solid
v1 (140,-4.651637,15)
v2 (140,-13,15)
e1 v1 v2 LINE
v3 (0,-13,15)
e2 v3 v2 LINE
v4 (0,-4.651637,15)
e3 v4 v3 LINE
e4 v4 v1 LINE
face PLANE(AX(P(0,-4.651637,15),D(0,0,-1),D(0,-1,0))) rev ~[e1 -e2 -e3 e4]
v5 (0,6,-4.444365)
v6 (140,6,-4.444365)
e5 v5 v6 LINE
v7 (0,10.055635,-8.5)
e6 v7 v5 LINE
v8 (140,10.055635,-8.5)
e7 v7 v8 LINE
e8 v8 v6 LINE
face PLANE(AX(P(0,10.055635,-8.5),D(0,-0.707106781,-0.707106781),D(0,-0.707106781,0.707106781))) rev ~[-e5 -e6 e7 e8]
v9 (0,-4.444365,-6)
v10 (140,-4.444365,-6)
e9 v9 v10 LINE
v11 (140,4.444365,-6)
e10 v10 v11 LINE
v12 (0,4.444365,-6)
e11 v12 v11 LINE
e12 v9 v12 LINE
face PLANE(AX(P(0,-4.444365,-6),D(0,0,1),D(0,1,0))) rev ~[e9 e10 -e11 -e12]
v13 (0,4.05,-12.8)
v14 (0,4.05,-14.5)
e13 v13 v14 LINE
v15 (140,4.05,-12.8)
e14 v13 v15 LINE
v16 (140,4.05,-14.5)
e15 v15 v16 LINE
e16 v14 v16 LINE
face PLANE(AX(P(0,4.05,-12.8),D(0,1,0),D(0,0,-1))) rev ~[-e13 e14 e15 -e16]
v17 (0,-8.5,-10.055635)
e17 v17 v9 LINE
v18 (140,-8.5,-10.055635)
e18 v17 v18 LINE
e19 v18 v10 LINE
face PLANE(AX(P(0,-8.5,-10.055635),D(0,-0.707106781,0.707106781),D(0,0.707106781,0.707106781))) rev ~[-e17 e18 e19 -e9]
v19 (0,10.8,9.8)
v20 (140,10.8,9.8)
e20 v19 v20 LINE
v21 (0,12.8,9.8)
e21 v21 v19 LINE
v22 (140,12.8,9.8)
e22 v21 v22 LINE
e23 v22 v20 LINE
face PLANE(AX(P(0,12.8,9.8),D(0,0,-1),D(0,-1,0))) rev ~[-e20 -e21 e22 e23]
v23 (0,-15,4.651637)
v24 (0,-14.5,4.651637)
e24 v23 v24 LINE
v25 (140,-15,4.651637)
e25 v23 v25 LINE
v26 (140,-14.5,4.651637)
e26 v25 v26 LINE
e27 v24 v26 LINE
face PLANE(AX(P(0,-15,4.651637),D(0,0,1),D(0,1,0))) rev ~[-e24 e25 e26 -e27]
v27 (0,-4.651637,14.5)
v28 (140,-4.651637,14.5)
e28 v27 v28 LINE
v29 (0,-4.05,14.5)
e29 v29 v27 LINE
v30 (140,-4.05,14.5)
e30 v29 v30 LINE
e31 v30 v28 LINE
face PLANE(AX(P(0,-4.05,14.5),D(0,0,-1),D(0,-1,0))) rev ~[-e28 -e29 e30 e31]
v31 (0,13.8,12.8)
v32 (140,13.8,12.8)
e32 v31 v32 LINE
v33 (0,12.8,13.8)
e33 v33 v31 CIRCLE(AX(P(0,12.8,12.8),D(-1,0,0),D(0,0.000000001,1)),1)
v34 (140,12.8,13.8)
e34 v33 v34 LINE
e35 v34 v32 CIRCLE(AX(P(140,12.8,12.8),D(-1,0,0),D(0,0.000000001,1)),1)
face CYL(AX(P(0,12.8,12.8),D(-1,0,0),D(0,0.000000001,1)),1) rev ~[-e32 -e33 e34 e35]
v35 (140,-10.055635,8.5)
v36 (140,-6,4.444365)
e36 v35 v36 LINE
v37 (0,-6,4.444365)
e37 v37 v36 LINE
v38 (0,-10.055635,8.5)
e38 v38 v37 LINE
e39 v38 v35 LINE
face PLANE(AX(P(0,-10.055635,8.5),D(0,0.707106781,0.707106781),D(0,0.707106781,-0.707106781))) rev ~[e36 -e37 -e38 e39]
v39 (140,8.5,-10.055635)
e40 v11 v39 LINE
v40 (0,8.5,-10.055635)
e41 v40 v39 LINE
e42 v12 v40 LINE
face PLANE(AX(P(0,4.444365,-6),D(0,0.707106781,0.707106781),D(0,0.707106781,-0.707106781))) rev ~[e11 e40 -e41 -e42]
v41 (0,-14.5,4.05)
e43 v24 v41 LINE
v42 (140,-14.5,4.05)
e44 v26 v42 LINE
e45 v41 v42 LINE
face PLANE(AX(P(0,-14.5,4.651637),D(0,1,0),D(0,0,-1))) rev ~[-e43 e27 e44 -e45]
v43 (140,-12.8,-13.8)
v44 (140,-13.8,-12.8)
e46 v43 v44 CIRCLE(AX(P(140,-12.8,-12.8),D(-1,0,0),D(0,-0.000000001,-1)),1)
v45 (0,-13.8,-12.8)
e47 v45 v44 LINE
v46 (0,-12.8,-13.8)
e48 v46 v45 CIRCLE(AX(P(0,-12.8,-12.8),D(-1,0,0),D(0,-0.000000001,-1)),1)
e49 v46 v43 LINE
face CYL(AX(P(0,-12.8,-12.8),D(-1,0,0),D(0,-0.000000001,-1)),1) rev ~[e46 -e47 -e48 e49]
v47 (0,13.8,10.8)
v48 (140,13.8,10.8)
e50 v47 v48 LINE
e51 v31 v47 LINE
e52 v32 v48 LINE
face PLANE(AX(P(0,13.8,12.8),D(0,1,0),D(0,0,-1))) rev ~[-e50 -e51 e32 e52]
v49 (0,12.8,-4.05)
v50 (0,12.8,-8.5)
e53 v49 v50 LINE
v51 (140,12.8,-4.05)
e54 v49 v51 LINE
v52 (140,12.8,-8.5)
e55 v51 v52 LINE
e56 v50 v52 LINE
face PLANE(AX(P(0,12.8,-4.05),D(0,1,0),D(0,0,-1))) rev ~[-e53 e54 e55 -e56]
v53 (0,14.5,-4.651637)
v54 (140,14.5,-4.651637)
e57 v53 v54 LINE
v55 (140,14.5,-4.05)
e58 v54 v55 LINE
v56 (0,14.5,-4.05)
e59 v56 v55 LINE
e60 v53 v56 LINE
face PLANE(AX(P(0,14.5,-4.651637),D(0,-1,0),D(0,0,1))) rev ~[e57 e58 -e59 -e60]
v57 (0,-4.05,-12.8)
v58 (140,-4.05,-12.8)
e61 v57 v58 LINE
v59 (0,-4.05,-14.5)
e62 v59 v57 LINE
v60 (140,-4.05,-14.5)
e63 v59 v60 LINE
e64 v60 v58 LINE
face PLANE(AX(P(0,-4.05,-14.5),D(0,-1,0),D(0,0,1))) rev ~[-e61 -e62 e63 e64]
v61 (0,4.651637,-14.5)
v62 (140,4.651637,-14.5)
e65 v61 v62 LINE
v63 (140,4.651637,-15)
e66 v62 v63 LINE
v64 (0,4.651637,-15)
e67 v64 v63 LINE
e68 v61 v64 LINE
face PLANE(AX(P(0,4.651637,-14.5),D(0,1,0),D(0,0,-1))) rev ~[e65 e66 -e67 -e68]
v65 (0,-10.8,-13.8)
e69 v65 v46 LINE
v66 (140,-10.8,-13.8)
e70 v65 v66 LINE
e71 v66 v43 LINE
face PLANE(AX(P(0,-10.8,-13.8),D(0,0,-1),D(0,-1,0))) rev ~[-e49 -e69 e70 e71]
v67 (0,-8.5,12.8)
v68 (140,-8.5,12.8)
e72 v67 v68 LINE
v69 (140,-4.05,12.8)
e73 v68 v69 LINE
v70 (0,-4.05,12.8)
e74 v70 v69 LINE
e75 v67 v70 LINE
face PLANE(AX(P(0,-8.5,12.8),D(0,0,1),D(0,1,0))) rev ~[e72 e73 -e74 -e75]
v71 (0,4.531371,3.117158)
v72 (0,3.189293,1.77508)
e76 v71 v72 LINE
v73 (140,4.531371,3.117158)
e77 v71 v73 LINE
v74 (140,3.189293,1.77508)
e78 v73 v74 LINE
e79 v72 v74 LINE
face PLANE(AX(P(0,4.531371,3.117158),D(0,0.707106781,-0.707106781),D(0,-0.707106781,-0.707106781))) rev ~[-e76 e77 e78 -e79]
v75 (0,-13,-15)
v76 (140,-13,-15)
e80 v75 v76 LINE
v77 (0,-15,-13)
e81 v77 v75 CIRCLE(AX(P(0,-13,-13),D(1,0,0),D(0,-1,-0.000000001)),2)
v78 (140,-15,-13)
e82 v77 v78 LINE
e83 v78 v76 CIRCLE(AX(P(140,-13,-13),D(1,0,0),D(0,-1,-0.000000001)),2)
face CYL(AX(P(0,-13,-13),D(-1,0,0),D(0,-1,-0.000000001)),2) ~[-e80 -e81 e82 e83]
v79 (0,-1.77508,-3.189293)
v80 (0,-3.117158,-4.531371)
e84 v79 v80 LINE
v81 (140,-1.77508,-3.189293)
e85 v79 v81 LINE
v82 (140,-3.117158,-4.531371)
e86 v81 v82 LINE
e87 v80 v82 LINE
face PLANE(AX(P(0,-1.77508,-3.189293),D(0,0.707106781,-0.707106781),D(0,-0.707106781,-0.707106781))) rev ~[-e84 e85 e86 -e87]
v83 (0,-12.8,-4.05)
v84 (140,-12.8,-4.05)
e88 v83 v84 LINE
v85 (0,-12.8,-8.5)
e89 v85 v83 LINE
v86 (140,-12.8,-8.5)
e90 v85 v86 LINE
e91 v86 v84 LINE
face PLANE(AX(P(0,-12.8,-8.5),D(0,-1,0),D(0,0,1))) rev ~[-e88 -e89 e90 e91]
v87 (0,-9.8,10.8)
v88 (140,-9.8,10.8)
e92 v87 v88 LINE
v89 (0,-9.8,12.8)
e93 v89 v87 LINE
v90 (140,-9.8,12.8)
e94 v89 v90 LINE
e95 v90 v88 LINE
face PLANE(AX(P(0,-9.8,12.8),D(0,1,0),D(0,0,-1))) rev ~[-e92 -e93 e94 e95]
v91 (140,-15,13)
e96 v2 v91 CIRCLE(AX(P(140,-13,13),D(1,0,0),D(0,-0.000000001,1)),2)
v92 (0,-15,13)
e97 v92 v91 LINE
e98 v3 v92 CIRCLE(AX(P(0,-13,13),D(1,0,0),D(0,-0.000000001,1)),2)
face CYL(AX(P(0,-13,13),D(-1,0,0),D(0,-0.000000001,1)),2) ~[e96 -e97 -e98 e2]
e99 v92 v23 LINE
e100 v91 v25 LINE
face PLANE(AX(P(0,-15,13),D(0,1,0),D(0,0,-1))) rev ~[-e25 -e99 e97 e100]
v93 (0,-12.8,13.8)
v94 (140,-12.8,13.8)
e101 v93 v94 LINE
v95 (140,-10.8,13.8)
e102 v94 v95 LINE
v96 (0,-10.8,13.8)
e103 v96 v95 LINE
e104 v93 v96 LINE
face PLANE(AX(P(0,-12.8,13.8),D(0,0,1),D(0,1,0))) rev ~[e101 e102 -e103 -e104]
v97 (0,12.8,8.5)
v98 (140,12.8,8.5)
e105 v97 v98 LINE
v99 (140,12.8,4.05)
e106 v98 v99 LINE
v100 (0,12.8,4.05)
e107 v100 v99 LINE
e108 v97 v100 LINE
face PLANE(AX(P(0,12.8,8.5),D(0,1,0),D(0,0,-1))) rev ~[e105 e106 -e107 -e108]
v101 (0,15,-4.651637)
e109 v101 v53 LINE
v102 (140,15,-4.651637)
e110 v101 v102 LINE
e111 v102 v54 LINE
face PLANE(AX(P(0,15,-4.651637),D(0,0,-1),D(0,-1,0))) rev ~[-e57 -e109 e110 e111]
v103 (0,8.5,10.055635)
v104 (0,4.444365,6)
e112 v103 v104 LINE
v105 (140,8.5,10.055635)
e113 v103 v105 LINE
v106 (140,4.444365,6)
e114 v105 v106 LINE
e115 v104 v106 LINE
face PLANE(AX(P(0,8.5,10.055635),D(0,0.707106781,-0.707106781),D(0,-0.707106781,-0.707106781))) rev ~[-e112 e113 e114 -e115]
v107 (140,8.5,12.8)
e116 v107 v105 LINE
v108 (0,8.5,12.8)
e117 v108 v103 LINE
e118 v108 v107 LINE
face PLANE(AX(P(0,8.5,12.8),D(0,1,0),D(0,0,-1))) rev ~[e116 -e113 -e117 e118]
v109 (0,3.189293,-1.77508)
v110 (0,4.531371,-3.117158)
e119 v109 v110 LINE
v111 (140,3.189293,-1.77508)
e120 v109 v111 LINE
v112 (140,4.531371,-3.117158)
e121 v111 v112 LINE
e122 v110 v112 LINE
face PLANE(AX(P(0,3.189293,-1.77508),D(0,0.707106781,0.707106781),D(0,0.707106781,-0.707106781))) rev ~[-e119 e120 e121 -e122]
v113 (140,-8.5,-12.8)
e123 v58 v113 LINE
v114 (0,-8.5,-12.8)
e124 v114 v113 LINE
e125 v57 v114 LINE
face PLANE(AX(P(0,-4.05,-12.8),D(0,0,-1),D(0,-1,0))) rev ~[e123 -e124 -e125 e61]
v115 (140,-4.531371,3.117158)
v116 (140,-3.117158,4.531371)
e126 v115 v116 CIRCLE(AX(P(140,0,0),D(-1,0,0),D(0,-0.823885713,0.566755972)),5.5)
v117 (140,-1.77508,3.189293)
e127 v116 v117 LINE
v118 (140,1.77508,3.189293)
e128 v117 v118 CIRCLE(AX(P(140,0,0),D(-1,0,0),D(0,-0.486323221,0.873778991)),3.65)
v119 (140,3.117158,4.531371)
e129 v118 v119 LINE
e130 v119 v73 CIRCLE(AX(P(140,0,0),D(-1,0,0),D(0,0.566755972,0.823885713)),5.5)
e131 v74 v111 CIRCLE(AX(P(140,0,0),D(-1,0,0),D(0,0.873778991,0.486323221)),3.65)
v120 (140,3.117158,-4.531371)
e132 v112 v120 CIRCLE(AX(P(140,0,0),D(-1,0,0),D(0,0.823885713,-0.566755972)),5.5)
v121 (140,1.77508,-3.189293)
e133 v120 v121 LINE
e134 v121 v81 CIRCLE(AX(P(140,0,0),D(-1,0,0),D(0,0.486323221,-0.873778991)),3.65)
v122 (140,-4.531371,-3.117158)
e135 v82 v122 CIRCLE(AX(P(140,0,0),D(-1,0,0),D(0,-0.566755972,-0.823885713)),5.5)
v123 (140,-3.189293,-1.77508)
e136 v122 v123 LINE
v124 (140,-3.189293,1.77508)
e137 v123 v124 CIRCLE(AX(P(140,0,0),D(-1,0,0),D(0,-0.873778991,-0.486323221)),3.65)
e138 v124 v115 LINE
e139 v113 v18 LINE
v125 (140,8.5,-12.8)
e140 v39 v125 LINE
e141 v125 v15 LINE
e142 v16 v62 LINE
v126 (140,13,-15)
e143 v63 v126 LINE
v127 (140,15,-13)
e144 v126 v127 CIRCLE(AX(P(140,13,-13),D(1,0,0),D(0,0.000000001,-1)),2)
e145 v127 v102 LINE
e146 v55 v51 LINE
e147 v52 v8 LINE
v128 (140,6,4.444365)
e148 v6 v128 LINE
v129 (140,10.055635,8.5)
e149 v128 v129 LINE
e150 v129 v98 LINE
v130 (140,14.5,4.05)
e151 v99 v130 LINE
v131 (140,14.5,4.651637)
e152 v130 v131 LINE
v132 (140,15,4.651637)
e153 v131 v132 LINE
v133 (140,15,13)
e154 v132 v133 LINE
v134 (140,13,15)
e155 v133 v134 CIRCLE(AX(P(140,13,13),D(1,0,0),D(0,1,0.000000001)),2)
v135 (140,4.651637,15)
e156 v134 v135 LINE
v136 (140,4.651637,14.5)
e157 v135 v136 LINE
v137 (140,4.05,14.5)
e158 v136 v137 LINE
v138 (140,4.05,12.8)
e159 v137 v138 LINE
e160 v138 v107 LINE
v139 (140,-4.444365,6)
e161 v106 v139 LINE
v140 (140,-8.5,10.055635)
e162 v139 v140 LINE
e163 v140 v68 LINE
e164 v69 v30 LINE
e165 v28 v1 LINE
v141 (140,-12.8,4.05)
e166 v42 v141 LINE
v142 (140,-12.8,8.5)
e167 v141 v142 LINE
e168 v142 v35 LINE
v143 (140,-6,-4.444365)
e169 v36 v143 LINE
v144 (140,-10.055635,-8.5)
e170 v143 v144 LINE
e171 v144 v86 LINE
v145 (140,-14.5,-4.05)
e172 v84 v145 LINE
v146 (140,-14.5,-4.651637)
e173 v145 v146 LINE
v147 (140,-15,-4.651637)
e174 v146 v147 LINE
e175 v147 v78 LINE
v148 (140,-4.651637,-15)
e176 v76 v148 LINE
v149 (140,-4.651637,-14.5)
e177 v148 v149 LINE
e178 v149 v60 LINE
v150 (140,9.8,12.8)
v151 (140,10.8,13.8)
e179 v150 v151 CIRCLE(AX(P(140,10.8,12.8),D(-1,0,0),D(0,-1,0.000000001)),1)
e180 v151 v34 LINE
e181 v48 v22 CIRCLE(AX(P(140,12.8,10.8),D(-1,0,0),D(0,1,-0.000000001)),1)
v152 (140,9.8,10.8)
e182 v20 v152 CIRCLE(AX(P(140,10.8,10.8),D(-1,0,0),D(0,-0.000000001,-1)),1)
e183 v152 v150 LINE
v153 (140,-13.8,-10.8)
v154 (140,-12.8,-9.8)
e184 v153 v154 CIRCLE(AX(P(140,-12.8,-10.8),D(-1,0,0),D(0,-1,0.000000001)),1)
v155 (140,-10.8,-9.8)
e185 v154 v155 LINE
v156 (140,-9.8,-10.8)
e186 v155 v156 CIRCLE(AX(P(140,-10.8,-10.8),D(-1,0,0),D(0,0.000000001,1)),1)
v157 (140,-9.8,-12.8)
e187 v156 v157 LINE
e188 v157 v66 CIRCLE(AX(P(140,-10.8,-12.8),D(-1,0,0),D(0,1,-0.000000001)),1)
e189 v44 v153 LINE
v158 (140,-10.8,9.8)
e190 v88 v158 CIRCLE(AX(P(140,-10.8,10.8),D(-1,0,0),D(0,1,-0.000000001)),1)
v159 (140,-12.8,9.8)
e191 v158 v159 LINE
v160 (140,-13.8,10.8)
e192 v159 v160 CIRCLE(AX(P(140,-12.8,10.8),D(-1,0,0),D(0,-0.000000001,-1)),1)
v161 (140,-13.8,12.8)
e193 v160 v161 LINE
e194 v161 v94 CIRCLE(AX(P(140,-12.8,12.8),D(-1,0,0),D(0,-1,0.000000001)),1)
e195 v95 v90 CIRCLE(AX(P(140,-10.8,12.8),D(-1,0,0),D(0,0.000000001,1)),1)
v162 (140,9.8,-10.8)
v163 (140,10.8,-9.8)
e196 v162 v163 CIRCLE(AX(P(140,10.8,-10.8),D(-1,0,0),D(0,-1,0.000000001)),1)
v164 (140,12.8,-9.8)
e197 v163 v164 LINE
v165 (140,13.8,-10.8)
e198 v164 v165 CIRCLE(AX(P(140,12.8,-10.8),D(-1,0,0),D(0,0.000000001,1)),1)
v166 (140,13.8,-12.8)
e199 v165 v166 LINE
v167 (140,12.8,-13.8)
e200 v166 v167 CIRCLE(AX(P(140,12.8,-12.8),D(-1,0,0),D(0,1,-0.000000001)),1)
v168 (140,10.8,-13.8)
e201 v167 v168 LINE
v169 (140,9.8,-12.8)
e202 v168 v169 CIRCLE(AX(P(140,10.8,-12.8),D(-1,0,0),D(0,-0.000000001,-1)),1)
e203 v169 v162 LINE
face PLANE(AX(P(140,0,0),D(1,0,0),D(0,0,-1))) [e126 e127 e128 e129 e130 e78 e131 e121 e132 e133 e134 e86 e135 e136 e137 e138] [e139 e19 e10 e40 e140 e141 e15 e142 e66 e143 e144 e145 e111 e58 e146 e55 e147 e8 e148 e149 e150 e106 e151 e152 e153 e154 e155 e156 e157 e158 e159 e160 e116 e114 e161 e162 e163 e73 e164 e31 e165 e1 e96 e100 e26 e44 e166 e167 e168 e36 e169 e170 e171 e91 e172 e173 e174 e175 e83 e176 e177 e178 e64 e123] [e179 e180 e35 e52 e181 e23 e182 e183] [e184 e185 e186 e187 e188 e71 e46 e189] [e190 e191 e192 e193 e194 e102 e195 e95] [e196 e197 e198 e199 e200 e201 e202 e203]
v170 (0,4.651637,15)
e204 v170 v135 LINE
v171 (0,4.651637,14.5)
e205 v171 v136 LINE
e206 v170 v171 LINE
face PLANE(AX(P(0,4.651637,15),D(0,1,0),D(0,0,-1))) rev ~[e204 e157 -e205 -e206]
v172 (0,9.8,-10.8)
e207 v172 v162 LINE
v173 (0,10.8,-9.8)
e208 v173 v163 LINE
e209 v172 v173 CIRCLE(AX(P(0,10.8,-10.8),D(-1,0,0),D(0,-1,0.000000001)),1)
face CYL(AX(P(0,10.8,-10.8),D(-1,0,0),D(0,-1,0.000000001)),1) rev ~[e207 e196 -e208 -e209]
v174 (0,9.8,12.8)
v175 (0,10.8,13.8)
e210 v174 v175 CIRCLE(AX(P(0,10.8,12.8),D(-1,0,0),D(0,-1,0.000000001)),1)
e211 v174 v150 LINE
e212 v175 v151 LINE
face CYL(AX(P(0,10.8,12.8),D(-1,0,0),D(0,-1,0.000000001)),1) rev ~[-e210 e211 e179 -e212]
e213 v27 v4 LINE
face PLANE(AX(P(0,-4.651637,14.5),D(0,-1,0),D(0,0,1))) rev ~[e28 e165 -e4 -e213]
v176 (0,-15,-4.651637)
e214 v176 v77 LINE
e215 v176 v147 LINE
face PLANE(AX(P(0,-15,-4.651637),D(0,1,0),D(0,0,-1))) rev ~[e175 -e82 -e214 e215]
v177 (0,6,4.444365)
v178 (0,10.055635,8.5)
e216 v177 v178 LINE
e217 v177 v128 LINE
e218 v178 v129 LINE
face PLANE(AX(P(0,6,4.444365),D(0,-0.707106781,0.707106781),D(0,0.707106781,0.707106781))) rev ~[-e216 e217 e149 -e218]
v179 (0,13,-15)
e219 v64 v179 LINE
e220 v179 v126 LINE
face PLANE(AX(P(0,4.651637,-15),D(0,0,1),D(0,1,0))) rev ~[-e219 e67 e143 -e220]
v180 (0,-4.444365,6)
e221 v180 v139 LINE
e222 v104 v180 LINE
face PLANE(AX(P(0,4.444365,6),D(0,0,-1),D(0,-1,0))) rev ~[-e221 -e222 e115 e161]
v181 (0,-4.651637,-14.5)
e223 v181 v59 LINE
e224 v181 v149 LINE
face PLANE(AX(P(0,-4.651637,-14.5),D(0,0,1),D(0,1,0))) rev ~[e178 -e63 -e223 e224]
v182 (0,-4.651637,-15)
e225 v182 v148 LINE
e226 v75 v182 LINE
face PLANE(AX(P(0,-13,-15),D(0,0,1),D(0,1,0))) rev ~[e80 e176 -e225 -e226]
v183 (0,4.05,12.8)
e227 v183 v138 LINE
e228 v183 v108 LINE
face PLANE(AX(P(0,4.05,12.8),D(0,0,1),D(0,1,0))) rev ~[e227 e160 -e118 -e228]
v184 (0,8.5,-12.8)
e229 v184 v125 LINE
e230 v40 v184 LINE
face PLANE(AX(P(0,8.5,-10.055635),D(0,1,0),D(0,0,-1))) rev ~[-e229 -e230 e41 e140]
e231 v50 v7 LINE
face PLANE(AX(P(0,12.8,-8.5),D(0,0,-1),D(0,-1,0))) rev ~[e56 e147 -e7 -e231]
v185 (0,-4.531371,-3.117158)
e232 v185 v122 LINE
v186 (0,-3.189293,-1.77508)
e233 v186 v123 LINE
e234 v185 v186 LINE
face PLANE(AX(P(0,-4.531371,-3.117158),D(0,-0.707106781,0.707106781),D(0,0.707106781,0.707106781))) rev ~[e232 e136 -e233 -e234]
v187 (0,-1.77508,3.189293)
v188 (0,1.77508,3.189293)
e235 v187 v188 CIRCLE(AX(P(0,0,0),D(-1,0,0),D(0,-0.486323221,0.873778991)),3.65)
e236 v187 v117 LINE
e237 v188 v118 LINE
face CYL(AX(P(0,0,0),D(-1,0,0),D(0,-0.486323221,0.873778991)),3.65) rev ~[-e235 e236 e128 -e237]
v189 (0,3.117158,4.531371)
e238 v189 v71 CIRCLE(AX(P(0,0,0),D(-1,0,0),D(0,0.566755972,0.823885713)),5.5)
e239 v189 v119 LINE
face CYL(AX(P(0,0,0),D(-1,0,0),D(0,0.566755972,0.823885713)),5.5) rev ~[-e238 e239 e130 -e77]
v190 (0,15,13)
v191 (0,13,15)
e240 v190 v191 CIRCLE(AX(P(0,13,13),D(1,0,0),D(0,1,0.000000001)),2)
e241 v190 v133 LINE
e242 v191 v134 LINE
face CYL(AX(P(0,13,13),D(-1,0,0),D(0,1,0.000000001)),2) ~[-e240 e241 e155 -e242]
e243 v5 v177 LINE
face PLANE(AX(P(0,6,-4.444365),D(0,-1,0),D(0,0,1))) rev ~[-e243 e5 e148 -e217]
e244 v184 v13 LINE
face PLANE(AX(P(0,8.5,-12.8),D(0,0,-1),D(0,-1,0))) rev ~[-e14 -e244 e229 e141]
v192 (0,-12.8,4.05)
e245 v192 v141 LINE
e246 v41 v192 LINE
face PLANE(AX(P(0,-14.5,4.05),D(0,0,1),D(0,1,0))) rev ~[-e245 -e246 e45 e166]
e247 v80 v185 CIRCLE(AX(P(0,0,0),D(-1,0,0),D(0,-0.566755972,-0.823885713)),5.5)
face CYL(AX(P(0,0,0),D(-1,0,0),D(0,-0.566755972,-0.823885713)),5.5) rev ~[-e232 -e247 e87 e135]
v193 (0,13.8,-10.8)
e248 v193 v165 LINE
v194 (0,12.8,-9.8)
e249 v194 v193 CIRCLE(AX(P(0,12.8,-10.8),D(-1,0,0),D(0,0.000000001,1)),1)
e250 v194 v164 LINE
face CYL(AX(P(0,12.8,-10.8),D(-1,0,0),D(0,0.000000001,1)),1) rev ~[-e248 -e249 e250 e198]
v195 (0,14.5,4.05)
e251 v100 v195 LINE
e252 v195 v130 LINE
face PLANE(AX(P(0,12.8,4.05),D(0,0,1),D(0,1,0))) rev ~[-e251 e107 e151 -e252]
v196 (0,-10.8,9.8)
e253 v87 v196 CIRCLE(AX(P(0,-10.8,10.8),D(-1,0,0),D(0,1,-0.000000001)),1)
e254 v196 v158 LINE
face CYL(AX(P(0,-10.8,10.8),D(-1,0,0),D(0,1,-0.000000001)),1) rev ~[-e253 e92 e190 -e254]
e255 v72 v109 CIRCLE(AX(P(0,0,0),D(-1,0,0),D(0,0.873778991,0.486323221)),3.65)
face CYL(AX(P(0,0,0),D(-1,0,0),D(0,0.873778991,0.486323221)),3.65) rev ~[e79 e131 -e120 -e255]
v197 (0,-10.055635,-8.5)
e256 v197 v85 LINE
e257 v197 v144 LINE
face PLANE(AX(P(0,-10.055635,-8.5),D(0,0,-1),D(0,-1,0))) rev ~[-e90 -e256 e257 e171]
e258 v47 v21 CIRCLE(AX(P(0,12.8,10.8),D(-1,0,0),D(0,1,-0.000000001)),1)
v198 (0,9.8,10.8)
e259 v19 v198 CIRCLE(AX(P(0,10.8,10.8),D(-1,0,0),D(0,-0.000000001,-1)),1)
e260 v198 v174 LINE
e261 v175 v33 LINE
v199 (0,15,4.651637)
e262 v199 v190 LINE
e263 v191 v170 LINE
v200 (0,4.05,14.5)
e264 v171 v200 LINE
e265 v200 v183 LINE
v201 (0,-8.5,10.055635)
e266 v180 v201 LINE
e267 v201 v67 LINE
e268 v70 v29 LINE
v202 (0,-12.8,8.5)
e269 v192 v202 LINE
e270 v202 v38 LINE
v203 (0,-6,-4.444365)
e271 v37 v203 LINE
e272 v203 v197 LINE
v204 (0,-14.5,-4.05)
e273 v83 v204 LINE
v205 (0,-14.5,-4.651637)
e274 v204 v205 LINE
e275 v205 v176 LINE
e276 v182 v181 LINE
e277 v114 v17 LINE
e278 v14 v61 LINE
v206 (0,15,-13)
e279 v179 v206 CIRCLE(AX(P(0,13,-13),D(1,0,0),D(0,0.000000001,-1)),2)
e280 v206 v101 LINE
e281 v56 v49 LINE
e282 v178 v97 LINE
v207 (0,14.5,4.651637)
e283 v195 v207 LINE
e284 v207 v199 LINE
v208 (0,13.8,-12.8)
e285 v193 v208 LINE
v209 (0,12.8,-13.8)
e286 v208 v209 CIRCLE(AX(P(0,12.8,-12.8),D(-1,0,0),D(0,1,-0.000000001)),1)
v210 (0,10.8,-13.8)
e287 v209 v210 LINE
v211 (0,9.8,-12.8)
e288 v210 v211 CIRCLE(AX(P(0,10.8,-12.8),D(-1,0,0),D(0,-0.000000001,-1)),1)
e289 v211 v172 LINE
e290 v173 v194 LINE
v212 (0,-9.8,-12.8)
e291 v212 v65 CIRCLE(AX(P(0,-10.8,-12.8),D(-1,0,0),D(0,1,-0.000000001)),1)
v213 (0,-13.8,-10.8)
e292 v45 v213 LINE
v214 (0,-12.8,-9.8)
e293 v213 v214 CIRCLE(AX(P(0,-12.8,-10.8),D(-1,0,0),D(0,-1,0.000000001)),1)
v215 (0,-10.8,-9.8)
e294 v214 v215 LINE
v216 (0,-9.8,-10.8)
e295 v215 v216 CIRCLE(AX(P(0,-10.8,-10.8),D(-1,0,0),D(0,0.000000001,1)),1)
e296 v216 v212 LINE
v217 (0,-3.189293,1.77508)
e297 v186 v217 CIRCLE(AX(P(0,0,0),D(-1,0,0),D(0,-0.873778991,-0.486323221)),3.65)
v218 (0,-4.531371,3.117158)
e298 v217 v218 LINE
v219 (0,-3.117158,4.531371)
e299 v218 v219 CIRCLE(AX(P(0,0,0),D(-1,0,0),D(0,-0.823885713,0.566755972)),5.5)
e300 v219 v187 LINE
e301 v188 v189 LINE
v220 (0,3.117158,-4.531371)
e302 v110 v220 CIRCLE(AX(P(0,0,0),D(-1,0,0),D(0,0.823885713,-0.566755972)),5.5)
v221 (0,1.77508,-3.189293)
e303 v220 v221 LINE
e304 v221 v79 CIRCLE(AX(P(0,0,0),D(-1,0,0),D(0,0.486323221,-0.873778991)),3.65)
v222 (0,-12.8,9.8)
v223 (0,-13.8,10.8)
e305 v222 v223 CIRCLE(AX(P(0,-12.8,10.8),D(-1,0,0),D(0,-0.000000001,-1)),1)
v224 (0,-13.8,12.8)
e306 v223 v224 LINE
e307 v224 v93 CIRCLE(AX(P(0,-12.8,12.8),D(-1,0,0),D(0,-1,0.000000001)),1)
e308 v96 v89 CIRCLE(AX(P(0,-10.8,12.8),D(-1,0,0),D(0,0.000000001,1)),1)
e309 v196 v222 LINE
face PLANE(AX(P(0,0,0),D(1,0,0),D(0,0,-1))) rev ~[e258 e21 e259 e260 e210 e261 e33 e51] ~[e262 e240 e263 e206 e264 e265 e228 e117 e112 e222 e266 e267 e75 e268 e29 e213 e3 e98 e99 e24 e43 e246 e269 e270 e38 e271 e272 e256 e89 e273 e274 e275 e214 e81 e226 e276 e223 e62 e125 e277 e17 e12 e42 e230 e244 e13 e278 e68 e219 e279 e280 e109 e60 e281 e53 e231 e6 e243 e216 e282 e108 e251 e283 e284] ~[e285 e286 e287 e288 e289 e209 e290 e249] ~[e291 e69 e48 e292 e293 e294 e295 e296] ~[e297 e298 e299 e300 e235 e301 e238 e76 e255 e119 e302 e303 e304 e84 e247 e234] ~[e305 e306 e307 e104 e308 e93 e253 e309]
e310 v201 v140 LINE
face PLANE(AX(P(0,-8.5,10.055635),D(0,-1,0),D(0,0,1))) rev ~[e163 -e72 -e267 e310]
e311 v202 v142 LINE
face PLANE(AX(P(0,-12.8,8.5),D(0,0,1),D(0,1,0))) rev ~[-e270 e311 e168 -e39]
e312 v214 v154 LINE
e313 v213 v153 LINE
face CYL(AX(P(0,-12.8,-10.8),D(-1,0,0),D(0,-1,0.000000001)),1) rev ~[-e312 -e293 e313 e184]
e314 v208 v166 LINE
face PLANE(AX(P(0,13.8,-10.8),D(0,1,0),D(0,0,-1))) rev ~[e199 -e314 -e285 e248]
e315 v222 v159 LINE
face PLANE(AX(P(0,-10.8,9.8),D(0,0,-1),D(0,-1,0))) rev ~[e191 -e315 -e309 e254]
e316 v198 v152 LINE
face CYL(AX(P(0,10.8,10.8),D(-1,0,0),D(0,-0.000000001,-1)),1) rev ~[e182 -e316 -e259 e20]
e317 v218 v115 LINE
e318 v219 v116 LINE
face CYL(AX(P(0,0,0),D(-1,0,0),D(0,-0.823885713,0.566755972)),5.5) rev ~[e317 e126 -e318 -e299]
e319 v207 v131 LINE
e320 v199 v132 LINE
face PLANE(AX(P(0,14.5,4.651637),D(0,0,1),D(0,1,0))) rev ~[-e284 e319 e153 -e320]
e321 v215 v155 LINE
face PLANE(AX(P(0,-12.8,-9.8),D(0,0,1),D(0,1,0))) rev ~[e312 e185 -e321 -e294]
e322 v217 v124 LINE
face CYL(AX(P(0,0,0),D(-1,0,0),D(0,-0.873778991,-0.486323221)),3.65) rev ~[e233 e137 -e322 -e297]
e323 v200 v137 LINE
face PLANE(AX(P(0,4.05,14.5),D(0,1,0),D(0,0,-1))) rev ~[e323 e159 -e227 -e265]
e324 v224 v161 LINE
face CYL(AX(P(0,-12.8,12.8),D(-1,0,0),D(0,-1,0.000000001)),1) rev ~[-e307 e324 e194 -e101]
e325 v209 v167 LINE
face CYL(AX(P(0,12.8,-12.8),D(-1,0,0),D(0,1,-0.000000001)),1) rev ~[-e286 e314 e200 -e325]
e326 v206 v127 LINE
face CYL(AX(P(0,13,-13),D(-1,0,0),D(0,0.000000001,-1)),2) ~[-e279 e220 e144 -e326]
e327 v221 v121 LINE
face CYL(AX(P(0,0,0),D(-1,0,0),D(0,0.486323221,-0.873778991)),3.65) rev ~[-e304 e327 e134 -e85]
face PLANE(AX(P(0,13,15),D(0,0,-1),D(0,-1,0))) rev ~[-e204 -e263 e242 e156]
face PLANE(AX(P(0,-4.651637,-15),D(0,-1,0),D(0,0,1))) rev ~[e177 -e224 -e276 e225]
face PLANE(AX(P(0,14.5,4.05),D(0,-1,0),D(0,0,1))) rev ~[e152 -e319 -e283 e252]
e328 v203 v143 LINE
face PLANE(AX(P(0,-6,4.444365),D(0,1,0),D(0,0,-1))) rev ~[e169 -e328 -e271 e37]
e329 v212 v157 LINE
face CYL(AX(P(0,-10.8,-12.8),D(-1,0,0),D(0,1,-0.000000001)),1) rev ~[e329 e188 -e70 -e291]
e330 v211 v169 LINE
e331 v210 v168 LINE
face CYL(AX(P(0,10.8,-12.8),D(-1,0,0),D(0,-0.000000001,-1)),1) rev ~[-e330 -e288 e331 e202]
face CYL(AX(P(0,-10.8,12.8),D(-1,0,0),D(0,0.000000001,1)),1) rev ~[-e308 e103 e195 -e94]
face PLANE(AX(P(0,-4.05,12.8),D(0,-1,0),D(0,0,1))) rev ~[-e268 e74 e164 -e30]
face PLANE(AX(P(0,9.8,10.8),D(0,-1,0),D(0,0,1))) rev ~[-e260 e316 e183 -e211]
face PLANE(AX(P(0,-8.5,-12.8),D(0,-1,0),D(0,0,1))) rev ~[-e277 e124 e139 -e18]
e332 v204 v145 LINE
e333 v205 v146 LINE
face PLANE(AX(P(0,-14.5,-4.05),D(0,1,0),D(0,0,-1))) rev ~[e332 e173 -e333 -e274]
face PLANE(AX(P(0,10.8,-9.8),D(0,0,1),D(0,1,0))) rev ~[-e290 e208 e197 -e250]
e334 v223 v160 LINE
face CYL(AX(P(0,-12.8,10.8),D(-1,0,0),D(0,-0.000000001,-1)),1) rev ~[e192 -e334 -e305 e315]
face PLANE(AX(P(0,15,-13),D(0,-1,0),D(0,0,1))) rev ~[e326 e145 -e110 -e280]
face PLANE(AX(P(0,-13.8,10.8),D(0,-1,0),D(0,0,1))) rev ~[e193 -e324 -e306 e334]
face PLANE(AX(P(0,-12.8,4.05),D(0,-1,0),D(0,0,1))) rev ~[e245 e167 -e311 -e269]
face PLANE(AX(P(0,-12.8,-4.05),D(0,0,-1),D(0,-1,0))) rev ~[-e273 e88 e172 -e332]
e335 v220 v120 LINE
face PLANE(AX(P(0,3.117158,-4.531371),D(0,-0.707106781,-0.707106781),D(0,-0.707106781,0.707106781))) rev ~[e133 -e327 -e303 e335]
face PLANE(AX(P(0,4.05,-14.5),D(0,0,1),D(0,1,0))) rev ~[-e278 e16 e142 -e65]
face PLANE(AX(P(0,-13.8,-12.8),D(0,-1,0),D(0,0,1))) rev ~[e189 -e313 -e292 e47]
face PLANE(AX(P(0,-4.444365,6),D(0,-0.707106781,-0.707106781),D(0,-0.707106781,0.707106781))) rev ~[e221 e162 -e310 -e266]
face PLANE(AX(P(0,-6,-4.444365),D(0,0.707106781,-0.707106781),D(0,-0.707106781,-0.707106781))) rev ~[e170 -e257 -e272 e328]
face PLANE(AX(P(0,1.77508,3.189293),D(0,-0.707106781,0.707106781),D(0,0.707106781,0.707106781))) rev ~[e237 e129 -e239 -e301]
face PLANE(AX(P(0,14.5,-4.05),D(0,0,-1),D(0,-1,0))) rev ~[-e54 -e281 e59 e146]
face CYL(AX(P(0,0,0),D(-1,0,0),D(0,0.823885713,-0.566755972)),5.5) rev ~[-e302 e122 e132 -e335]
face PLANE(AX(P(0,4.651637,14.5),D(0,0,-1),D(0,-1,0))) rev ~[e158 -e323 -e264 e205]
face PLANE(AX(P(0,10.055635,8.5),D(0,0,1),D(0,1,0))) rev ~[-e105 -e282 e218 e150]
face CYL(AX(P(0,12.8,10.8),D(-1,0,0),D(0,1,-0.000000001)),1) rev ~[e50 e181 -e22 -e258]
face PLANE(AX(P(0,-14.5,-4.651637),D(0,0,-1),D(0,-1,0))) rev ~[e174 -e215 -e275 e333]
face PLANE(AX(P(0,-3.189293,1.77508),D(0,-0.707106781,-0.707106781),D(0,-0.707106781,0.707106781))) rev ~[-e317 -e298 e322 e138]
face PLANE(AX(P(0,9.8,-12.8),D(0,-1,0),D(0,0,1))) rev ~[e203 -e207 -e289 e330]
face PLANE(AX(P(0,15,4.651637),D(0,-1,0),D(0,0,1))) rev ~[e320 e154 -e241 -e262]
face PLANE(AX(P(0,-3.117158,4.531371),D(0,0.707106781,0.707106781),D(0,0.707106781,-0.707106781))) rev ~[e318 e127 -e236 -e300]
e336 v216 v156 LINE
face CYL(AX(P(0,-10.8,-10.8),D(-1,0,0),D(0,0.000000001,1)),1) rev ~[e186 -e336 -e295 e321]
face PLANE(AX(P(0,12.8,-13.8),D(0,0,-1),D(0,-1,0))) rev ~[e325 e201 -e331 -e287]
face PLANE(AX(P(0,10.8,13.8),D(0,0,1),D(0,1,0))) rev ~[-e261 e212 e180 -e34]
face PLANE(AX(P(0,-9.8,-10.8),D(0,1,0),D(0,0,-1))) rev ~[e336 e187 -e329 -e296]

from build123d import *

# Parameters (mm, degrees)
AUFSATZ_LINEAR_AUSTRAGEN1_DEPTH = 140


with BuildPart() as part:
    # Skizze1 → Aufsatz-Linear austragen1 (new body)
    with BuildSketch(Plane(origin=(0, 0, 0), x_dir=(0, 0, -1), z_dir=(1, 0, 0))):
        with BuildLine():
            Line((10.055634919, 8.5), (12.8, 8.5))
            Line((12.8, 8.5), (12.8, 4.05))
            Line((12.8, 4.05), (14.5, 4.05))
            Line((14.5, 4.05), (14.5, 4.651637069))
            Line((14.5, 4.651637069), (15, 4.651637069))
            Line((15, 4.651637069), (15, 13))
            ThreePointArc((15, 13), (14.414213562, 14.414213562), (13, 15))
            Line((13, 15), (4.651637069, 15))
            Line((4.651637069, 15), (4.651637069, 14.5))
            Line((4.651637069, 14.5), (4.05, 14.5))
            Line((4.05, 14.5), (4.05, 12.8))
            Line((4.05, 12.8), (8.5, 12.8))
            Line((8.5, 12.8), (8.5, 10.055634919))
            Line((8.5, 10.055634919), (4.444365081, 6))
            Line((4.444365081, 6), (-4.444365081, 6))
            Line((-4.444365081, 6), (-8.5, 10.055634919))
            Line((-8.5, 10.055634919), (-8.5, 12.8))
            Line((-8.5, 12.8), (-4.05, 12.8))
            Line((-4.05, 12.8), (-4.05, 14.5))
            Line((-4.05, 14.5), (-4.651637069, 14.5))
            Line((-4.651637069, 14.5), (-4.651637069, 15))
            Line((-4.651637069, 15), (-13, 15))
            ThreePointArc((-13, 15), (-14.414213562, 14.414213562), (-15, 13))
            Line((-15, 13), (-15, 4.651637069))
            Line((-15, 4.651637069), (-14.5, 4.651637069))
            Line((-14.5, 4.651637069), (-14.5, 4.05))
            Line((-14.5, 4.05), (-12.8, 4.05))
            Line((-12.8, 4.05), (-12.8, 8.5))
            Line((-12.8, 8.5), (-10.055634919, 8.5))
            Line((-10.055634919, 8.5), (-6, 4.444365081))
            Line((-6, 4.444365081), (-6, -4.444365081))
            Line((-6, -4.444365081), (-10.055634919, -8.5))
            Line((-10.055634919, -8.5), (-12.8, -8.5))
            Line((-12.8, -8.5), (-12.8, -4.05))
            Line((-12.8, -4.05), (-14.5, -4.05))
            Line((-14.5, -4.05), (-14.5, -4.651637069))
            Line((-14.5, -4.651637069), (-15, -4.651637069))
            Line((-15, -4.651637069), (-15, -13))
            ThreePointArc((-15, -13), (-14.414213562, -14.414213562), (-13, -15))
            Line((-13, -15), (-4.651637069, -15))
            Line((-4.651637069, -15), (-4.651637069, -14.5))
            Line((-4.651637069, -14.5), (-4.05, -14.5))
            Line((-4.05, -14.5), (-4.05, -12.8))
            Line((-4.05, -12.8), (-8.5, -12.8))
            Line((-8.5, -12.8), (-8.5, -10.055634919))
            Line((-8.5, -10.055634919), (-4.444365081, -6))
            Line((-4.444365081, -6), (4.444365081, -6))
            Line((4.444365081, -6), (8.5, -10.055634919))
            Line((8.5, -10.055634919), (8.5, -12.8))
            Line((8.5, -12.8), (4.05, -12.8))
            Line((4.05, -12.8), (4.05, -14.5))
            Line((4.05, -14.5), (4.651637069, -14.5))
            Line((4.651637069, -14.5), (4.651637069, -15))
            Line((4.651637069, -15), (13, -15))
            ThreePointArc((13, -15), (14.414213562, -14.414213562), (15, -13))
            Line((15, -13), (15, -4.651637069))
            Line((15, -4.651637069), (14.5, -4.651637069))
            Line((14.5, -4.651637069), (14.5, -4.05))
            Line((14.5, -4.05), (12.8, -4.05))
            Line((12.8, -4.05), (12.8, -8.5))
            Line((12.8, -8.5), (10.055634919, -8.5))
            Line((10.055634919, -8.5), (6, -4.444365081))
            Line((6, -4.444365081), (6, 4.444365081))
            Line((6, 4.444365081), (10.055634919, 8.5))
        make_face()
        with BuildLine():
            ThreePointArc((12.8, 13.8), (13.507106781, 13.507106781), (13.8, 12.8))
            Line((13.8, 12.8), (13.8, 10.8))
            ThreePointArc((13.8, 10.8), (13.507106781, 10.092893219), (12.8, 9.8))
            Line((12.8, 9.8), (10.8, 9.8))
            ThreePointArc((10.8, 9.8), (10.092893219, 10.092893219), (9.8, 10.8))
            Line((9.8, 10.8), (9.8, 12.8))
            ThreePointArc((9.8, 12.8), (10.092893219, 13.507106781), (10.8, 13.8))
            Line((10.8, 13.8), (12.8, 13.8))
        make_face(mode=Mode.SUBTRACT)
        with BuildLine():
            Line((-3.117157854, 4.531371416), (-1.775079755, 3.189293317))
            ThreePointArc((-1.775079755, 3.189293317), (0, 3.65), (1.775079755, 3.189293317))
            Line((1.775079755, 3.189293317), (3.117157854, 4.531371416))
            ThreePointArc((3.117157854, 4.531371416), (3.889087297, 3.889087297), (4.531371416, 3.117157854))
            Line((4.531371416, 3.117157854), (3.189293317, 1.775079755))
            ThreePointArc((3.189293317, 1.775079755), (3.65, 0), (3.189293317, -1.775079755))
            Line((3.189293317, -1.775079755), (4.531371416, -3.117157854))
            ThreePointArc((4.531371416, -3.117157854), (3.889087297, -3.889087297), (3.117157854, -4.531371416))
            Line((3.117157854, -4.531371416), (1.775079755, -3.189293317))
            ThreePointArc((1.775079755, -3.189293317), (0, -3.65), (-1.775079755, -3.189293317))
            Line((-1.775079755, -3.189293317), (-3.117157854, -4.531371416))
            ThreePointArc((-3.117157854, -4.531371416), (-3.889087297, -3.889087297), (-4.531371416, -3.117157854))
            Line((-4.531371416, -3.117157854), (-3.189293317, -1.775079755))
            ThreePointArc((-3.189293317, -1.775079755), (-3.65, 0), (-3.189293317, 1.775079755))
            Line((-3.189293317, 1.775079755), (-4.531371416, 3.117157854))
            ThreePointArc((-4.531371416, 3.117157854), (-3.889087297, 3.889087297), (-3.117157854, 4.531371416))
        make_face(mode=Mode.SUBTRACT)
        with BuildLine():
            ThreePointArc((-13.8, 12.8), (-13.507106781, 13.507106781), (-12.8, 13.8))
            Line((-12.8, 13.8), (-10.8, 13.8))
            ThreePointArc((-10.8, 13.8), (-10.092893219, 13.507106781), (-9.8, 12.8))
            Line((-9.8, 12.8), (-9.8, 10.8))
            ThreePointArc((-9.8, 10.8), (-10.092893219, 10.092893219), (-10.8, 9.8))
            Line((-10.8, 9.8), (-12.8, 9.8))
            ThreePointArc((-12.8, 9.8), (-13.507106781, 10.092893219), (-13.8, 10.8))
            Line((-13.8, 10.8), (-13.8, 12.8))
        make_face(mode=Mode.SUBTRACT)
        with BuildLine():
            ThreePointArc((9.8, -10.8), (10.092893219, -10.092893219), (10.8, -9.8))
            Line((10.8, -9.8), (12.8, -9.8))
            ThreePointArc((12.8, -9.8), (13.507106781, -10.092893219), (13.8, -10.8))
            Line((13.8, -10.8), (13.8, -12.8))
            ThreePointArc((13.8, -12.8), (13.507106781, -13.507106781), (12.8, -13.8))
            Line((12.8, -13.8), (10.8, -13.8))
            ThreePointArc((10.8, -13.8), (10.092893219, -13.507106781), (9.8, -12.8))
            Line((9.8, -12.8), (9.8, -10.8))
        make_face(mode=Mode.SUBTRACT)
        with BuildLine():
            Line((-9.8, -10.8), (-9.8, -12.8))
            ThreePointArc((-9.8, -12.8), (-10.092893219, -13.507106781), (-10.8, -13.8))
            Line((-10.8, -13.8), (-12.8, -13.8))
            ThreePointArc((-12.8, -13.8), (-13.507106781, -13.507106781), (-13.8, -12.8))
            Line((-13.8, -12.8), (-13.8, -10.8))
            ThreePointArc((-13.8, -10.8), (-13.507106781, -10.092893219), (-12.8, -9.8))
            Line((-12.8, -9.8), (-10.8, -9.8))
            ThreePointArc((-10.8, -9.8), (-10.092893219, -10.092893219), (-9.8, -10.8))
        make_face(mode=Mode.SUBTRACT)
    extrude(amount=AUFSATZ_LINEAR_AUSTRAGEN1_DEPTH)


solid = part.part
